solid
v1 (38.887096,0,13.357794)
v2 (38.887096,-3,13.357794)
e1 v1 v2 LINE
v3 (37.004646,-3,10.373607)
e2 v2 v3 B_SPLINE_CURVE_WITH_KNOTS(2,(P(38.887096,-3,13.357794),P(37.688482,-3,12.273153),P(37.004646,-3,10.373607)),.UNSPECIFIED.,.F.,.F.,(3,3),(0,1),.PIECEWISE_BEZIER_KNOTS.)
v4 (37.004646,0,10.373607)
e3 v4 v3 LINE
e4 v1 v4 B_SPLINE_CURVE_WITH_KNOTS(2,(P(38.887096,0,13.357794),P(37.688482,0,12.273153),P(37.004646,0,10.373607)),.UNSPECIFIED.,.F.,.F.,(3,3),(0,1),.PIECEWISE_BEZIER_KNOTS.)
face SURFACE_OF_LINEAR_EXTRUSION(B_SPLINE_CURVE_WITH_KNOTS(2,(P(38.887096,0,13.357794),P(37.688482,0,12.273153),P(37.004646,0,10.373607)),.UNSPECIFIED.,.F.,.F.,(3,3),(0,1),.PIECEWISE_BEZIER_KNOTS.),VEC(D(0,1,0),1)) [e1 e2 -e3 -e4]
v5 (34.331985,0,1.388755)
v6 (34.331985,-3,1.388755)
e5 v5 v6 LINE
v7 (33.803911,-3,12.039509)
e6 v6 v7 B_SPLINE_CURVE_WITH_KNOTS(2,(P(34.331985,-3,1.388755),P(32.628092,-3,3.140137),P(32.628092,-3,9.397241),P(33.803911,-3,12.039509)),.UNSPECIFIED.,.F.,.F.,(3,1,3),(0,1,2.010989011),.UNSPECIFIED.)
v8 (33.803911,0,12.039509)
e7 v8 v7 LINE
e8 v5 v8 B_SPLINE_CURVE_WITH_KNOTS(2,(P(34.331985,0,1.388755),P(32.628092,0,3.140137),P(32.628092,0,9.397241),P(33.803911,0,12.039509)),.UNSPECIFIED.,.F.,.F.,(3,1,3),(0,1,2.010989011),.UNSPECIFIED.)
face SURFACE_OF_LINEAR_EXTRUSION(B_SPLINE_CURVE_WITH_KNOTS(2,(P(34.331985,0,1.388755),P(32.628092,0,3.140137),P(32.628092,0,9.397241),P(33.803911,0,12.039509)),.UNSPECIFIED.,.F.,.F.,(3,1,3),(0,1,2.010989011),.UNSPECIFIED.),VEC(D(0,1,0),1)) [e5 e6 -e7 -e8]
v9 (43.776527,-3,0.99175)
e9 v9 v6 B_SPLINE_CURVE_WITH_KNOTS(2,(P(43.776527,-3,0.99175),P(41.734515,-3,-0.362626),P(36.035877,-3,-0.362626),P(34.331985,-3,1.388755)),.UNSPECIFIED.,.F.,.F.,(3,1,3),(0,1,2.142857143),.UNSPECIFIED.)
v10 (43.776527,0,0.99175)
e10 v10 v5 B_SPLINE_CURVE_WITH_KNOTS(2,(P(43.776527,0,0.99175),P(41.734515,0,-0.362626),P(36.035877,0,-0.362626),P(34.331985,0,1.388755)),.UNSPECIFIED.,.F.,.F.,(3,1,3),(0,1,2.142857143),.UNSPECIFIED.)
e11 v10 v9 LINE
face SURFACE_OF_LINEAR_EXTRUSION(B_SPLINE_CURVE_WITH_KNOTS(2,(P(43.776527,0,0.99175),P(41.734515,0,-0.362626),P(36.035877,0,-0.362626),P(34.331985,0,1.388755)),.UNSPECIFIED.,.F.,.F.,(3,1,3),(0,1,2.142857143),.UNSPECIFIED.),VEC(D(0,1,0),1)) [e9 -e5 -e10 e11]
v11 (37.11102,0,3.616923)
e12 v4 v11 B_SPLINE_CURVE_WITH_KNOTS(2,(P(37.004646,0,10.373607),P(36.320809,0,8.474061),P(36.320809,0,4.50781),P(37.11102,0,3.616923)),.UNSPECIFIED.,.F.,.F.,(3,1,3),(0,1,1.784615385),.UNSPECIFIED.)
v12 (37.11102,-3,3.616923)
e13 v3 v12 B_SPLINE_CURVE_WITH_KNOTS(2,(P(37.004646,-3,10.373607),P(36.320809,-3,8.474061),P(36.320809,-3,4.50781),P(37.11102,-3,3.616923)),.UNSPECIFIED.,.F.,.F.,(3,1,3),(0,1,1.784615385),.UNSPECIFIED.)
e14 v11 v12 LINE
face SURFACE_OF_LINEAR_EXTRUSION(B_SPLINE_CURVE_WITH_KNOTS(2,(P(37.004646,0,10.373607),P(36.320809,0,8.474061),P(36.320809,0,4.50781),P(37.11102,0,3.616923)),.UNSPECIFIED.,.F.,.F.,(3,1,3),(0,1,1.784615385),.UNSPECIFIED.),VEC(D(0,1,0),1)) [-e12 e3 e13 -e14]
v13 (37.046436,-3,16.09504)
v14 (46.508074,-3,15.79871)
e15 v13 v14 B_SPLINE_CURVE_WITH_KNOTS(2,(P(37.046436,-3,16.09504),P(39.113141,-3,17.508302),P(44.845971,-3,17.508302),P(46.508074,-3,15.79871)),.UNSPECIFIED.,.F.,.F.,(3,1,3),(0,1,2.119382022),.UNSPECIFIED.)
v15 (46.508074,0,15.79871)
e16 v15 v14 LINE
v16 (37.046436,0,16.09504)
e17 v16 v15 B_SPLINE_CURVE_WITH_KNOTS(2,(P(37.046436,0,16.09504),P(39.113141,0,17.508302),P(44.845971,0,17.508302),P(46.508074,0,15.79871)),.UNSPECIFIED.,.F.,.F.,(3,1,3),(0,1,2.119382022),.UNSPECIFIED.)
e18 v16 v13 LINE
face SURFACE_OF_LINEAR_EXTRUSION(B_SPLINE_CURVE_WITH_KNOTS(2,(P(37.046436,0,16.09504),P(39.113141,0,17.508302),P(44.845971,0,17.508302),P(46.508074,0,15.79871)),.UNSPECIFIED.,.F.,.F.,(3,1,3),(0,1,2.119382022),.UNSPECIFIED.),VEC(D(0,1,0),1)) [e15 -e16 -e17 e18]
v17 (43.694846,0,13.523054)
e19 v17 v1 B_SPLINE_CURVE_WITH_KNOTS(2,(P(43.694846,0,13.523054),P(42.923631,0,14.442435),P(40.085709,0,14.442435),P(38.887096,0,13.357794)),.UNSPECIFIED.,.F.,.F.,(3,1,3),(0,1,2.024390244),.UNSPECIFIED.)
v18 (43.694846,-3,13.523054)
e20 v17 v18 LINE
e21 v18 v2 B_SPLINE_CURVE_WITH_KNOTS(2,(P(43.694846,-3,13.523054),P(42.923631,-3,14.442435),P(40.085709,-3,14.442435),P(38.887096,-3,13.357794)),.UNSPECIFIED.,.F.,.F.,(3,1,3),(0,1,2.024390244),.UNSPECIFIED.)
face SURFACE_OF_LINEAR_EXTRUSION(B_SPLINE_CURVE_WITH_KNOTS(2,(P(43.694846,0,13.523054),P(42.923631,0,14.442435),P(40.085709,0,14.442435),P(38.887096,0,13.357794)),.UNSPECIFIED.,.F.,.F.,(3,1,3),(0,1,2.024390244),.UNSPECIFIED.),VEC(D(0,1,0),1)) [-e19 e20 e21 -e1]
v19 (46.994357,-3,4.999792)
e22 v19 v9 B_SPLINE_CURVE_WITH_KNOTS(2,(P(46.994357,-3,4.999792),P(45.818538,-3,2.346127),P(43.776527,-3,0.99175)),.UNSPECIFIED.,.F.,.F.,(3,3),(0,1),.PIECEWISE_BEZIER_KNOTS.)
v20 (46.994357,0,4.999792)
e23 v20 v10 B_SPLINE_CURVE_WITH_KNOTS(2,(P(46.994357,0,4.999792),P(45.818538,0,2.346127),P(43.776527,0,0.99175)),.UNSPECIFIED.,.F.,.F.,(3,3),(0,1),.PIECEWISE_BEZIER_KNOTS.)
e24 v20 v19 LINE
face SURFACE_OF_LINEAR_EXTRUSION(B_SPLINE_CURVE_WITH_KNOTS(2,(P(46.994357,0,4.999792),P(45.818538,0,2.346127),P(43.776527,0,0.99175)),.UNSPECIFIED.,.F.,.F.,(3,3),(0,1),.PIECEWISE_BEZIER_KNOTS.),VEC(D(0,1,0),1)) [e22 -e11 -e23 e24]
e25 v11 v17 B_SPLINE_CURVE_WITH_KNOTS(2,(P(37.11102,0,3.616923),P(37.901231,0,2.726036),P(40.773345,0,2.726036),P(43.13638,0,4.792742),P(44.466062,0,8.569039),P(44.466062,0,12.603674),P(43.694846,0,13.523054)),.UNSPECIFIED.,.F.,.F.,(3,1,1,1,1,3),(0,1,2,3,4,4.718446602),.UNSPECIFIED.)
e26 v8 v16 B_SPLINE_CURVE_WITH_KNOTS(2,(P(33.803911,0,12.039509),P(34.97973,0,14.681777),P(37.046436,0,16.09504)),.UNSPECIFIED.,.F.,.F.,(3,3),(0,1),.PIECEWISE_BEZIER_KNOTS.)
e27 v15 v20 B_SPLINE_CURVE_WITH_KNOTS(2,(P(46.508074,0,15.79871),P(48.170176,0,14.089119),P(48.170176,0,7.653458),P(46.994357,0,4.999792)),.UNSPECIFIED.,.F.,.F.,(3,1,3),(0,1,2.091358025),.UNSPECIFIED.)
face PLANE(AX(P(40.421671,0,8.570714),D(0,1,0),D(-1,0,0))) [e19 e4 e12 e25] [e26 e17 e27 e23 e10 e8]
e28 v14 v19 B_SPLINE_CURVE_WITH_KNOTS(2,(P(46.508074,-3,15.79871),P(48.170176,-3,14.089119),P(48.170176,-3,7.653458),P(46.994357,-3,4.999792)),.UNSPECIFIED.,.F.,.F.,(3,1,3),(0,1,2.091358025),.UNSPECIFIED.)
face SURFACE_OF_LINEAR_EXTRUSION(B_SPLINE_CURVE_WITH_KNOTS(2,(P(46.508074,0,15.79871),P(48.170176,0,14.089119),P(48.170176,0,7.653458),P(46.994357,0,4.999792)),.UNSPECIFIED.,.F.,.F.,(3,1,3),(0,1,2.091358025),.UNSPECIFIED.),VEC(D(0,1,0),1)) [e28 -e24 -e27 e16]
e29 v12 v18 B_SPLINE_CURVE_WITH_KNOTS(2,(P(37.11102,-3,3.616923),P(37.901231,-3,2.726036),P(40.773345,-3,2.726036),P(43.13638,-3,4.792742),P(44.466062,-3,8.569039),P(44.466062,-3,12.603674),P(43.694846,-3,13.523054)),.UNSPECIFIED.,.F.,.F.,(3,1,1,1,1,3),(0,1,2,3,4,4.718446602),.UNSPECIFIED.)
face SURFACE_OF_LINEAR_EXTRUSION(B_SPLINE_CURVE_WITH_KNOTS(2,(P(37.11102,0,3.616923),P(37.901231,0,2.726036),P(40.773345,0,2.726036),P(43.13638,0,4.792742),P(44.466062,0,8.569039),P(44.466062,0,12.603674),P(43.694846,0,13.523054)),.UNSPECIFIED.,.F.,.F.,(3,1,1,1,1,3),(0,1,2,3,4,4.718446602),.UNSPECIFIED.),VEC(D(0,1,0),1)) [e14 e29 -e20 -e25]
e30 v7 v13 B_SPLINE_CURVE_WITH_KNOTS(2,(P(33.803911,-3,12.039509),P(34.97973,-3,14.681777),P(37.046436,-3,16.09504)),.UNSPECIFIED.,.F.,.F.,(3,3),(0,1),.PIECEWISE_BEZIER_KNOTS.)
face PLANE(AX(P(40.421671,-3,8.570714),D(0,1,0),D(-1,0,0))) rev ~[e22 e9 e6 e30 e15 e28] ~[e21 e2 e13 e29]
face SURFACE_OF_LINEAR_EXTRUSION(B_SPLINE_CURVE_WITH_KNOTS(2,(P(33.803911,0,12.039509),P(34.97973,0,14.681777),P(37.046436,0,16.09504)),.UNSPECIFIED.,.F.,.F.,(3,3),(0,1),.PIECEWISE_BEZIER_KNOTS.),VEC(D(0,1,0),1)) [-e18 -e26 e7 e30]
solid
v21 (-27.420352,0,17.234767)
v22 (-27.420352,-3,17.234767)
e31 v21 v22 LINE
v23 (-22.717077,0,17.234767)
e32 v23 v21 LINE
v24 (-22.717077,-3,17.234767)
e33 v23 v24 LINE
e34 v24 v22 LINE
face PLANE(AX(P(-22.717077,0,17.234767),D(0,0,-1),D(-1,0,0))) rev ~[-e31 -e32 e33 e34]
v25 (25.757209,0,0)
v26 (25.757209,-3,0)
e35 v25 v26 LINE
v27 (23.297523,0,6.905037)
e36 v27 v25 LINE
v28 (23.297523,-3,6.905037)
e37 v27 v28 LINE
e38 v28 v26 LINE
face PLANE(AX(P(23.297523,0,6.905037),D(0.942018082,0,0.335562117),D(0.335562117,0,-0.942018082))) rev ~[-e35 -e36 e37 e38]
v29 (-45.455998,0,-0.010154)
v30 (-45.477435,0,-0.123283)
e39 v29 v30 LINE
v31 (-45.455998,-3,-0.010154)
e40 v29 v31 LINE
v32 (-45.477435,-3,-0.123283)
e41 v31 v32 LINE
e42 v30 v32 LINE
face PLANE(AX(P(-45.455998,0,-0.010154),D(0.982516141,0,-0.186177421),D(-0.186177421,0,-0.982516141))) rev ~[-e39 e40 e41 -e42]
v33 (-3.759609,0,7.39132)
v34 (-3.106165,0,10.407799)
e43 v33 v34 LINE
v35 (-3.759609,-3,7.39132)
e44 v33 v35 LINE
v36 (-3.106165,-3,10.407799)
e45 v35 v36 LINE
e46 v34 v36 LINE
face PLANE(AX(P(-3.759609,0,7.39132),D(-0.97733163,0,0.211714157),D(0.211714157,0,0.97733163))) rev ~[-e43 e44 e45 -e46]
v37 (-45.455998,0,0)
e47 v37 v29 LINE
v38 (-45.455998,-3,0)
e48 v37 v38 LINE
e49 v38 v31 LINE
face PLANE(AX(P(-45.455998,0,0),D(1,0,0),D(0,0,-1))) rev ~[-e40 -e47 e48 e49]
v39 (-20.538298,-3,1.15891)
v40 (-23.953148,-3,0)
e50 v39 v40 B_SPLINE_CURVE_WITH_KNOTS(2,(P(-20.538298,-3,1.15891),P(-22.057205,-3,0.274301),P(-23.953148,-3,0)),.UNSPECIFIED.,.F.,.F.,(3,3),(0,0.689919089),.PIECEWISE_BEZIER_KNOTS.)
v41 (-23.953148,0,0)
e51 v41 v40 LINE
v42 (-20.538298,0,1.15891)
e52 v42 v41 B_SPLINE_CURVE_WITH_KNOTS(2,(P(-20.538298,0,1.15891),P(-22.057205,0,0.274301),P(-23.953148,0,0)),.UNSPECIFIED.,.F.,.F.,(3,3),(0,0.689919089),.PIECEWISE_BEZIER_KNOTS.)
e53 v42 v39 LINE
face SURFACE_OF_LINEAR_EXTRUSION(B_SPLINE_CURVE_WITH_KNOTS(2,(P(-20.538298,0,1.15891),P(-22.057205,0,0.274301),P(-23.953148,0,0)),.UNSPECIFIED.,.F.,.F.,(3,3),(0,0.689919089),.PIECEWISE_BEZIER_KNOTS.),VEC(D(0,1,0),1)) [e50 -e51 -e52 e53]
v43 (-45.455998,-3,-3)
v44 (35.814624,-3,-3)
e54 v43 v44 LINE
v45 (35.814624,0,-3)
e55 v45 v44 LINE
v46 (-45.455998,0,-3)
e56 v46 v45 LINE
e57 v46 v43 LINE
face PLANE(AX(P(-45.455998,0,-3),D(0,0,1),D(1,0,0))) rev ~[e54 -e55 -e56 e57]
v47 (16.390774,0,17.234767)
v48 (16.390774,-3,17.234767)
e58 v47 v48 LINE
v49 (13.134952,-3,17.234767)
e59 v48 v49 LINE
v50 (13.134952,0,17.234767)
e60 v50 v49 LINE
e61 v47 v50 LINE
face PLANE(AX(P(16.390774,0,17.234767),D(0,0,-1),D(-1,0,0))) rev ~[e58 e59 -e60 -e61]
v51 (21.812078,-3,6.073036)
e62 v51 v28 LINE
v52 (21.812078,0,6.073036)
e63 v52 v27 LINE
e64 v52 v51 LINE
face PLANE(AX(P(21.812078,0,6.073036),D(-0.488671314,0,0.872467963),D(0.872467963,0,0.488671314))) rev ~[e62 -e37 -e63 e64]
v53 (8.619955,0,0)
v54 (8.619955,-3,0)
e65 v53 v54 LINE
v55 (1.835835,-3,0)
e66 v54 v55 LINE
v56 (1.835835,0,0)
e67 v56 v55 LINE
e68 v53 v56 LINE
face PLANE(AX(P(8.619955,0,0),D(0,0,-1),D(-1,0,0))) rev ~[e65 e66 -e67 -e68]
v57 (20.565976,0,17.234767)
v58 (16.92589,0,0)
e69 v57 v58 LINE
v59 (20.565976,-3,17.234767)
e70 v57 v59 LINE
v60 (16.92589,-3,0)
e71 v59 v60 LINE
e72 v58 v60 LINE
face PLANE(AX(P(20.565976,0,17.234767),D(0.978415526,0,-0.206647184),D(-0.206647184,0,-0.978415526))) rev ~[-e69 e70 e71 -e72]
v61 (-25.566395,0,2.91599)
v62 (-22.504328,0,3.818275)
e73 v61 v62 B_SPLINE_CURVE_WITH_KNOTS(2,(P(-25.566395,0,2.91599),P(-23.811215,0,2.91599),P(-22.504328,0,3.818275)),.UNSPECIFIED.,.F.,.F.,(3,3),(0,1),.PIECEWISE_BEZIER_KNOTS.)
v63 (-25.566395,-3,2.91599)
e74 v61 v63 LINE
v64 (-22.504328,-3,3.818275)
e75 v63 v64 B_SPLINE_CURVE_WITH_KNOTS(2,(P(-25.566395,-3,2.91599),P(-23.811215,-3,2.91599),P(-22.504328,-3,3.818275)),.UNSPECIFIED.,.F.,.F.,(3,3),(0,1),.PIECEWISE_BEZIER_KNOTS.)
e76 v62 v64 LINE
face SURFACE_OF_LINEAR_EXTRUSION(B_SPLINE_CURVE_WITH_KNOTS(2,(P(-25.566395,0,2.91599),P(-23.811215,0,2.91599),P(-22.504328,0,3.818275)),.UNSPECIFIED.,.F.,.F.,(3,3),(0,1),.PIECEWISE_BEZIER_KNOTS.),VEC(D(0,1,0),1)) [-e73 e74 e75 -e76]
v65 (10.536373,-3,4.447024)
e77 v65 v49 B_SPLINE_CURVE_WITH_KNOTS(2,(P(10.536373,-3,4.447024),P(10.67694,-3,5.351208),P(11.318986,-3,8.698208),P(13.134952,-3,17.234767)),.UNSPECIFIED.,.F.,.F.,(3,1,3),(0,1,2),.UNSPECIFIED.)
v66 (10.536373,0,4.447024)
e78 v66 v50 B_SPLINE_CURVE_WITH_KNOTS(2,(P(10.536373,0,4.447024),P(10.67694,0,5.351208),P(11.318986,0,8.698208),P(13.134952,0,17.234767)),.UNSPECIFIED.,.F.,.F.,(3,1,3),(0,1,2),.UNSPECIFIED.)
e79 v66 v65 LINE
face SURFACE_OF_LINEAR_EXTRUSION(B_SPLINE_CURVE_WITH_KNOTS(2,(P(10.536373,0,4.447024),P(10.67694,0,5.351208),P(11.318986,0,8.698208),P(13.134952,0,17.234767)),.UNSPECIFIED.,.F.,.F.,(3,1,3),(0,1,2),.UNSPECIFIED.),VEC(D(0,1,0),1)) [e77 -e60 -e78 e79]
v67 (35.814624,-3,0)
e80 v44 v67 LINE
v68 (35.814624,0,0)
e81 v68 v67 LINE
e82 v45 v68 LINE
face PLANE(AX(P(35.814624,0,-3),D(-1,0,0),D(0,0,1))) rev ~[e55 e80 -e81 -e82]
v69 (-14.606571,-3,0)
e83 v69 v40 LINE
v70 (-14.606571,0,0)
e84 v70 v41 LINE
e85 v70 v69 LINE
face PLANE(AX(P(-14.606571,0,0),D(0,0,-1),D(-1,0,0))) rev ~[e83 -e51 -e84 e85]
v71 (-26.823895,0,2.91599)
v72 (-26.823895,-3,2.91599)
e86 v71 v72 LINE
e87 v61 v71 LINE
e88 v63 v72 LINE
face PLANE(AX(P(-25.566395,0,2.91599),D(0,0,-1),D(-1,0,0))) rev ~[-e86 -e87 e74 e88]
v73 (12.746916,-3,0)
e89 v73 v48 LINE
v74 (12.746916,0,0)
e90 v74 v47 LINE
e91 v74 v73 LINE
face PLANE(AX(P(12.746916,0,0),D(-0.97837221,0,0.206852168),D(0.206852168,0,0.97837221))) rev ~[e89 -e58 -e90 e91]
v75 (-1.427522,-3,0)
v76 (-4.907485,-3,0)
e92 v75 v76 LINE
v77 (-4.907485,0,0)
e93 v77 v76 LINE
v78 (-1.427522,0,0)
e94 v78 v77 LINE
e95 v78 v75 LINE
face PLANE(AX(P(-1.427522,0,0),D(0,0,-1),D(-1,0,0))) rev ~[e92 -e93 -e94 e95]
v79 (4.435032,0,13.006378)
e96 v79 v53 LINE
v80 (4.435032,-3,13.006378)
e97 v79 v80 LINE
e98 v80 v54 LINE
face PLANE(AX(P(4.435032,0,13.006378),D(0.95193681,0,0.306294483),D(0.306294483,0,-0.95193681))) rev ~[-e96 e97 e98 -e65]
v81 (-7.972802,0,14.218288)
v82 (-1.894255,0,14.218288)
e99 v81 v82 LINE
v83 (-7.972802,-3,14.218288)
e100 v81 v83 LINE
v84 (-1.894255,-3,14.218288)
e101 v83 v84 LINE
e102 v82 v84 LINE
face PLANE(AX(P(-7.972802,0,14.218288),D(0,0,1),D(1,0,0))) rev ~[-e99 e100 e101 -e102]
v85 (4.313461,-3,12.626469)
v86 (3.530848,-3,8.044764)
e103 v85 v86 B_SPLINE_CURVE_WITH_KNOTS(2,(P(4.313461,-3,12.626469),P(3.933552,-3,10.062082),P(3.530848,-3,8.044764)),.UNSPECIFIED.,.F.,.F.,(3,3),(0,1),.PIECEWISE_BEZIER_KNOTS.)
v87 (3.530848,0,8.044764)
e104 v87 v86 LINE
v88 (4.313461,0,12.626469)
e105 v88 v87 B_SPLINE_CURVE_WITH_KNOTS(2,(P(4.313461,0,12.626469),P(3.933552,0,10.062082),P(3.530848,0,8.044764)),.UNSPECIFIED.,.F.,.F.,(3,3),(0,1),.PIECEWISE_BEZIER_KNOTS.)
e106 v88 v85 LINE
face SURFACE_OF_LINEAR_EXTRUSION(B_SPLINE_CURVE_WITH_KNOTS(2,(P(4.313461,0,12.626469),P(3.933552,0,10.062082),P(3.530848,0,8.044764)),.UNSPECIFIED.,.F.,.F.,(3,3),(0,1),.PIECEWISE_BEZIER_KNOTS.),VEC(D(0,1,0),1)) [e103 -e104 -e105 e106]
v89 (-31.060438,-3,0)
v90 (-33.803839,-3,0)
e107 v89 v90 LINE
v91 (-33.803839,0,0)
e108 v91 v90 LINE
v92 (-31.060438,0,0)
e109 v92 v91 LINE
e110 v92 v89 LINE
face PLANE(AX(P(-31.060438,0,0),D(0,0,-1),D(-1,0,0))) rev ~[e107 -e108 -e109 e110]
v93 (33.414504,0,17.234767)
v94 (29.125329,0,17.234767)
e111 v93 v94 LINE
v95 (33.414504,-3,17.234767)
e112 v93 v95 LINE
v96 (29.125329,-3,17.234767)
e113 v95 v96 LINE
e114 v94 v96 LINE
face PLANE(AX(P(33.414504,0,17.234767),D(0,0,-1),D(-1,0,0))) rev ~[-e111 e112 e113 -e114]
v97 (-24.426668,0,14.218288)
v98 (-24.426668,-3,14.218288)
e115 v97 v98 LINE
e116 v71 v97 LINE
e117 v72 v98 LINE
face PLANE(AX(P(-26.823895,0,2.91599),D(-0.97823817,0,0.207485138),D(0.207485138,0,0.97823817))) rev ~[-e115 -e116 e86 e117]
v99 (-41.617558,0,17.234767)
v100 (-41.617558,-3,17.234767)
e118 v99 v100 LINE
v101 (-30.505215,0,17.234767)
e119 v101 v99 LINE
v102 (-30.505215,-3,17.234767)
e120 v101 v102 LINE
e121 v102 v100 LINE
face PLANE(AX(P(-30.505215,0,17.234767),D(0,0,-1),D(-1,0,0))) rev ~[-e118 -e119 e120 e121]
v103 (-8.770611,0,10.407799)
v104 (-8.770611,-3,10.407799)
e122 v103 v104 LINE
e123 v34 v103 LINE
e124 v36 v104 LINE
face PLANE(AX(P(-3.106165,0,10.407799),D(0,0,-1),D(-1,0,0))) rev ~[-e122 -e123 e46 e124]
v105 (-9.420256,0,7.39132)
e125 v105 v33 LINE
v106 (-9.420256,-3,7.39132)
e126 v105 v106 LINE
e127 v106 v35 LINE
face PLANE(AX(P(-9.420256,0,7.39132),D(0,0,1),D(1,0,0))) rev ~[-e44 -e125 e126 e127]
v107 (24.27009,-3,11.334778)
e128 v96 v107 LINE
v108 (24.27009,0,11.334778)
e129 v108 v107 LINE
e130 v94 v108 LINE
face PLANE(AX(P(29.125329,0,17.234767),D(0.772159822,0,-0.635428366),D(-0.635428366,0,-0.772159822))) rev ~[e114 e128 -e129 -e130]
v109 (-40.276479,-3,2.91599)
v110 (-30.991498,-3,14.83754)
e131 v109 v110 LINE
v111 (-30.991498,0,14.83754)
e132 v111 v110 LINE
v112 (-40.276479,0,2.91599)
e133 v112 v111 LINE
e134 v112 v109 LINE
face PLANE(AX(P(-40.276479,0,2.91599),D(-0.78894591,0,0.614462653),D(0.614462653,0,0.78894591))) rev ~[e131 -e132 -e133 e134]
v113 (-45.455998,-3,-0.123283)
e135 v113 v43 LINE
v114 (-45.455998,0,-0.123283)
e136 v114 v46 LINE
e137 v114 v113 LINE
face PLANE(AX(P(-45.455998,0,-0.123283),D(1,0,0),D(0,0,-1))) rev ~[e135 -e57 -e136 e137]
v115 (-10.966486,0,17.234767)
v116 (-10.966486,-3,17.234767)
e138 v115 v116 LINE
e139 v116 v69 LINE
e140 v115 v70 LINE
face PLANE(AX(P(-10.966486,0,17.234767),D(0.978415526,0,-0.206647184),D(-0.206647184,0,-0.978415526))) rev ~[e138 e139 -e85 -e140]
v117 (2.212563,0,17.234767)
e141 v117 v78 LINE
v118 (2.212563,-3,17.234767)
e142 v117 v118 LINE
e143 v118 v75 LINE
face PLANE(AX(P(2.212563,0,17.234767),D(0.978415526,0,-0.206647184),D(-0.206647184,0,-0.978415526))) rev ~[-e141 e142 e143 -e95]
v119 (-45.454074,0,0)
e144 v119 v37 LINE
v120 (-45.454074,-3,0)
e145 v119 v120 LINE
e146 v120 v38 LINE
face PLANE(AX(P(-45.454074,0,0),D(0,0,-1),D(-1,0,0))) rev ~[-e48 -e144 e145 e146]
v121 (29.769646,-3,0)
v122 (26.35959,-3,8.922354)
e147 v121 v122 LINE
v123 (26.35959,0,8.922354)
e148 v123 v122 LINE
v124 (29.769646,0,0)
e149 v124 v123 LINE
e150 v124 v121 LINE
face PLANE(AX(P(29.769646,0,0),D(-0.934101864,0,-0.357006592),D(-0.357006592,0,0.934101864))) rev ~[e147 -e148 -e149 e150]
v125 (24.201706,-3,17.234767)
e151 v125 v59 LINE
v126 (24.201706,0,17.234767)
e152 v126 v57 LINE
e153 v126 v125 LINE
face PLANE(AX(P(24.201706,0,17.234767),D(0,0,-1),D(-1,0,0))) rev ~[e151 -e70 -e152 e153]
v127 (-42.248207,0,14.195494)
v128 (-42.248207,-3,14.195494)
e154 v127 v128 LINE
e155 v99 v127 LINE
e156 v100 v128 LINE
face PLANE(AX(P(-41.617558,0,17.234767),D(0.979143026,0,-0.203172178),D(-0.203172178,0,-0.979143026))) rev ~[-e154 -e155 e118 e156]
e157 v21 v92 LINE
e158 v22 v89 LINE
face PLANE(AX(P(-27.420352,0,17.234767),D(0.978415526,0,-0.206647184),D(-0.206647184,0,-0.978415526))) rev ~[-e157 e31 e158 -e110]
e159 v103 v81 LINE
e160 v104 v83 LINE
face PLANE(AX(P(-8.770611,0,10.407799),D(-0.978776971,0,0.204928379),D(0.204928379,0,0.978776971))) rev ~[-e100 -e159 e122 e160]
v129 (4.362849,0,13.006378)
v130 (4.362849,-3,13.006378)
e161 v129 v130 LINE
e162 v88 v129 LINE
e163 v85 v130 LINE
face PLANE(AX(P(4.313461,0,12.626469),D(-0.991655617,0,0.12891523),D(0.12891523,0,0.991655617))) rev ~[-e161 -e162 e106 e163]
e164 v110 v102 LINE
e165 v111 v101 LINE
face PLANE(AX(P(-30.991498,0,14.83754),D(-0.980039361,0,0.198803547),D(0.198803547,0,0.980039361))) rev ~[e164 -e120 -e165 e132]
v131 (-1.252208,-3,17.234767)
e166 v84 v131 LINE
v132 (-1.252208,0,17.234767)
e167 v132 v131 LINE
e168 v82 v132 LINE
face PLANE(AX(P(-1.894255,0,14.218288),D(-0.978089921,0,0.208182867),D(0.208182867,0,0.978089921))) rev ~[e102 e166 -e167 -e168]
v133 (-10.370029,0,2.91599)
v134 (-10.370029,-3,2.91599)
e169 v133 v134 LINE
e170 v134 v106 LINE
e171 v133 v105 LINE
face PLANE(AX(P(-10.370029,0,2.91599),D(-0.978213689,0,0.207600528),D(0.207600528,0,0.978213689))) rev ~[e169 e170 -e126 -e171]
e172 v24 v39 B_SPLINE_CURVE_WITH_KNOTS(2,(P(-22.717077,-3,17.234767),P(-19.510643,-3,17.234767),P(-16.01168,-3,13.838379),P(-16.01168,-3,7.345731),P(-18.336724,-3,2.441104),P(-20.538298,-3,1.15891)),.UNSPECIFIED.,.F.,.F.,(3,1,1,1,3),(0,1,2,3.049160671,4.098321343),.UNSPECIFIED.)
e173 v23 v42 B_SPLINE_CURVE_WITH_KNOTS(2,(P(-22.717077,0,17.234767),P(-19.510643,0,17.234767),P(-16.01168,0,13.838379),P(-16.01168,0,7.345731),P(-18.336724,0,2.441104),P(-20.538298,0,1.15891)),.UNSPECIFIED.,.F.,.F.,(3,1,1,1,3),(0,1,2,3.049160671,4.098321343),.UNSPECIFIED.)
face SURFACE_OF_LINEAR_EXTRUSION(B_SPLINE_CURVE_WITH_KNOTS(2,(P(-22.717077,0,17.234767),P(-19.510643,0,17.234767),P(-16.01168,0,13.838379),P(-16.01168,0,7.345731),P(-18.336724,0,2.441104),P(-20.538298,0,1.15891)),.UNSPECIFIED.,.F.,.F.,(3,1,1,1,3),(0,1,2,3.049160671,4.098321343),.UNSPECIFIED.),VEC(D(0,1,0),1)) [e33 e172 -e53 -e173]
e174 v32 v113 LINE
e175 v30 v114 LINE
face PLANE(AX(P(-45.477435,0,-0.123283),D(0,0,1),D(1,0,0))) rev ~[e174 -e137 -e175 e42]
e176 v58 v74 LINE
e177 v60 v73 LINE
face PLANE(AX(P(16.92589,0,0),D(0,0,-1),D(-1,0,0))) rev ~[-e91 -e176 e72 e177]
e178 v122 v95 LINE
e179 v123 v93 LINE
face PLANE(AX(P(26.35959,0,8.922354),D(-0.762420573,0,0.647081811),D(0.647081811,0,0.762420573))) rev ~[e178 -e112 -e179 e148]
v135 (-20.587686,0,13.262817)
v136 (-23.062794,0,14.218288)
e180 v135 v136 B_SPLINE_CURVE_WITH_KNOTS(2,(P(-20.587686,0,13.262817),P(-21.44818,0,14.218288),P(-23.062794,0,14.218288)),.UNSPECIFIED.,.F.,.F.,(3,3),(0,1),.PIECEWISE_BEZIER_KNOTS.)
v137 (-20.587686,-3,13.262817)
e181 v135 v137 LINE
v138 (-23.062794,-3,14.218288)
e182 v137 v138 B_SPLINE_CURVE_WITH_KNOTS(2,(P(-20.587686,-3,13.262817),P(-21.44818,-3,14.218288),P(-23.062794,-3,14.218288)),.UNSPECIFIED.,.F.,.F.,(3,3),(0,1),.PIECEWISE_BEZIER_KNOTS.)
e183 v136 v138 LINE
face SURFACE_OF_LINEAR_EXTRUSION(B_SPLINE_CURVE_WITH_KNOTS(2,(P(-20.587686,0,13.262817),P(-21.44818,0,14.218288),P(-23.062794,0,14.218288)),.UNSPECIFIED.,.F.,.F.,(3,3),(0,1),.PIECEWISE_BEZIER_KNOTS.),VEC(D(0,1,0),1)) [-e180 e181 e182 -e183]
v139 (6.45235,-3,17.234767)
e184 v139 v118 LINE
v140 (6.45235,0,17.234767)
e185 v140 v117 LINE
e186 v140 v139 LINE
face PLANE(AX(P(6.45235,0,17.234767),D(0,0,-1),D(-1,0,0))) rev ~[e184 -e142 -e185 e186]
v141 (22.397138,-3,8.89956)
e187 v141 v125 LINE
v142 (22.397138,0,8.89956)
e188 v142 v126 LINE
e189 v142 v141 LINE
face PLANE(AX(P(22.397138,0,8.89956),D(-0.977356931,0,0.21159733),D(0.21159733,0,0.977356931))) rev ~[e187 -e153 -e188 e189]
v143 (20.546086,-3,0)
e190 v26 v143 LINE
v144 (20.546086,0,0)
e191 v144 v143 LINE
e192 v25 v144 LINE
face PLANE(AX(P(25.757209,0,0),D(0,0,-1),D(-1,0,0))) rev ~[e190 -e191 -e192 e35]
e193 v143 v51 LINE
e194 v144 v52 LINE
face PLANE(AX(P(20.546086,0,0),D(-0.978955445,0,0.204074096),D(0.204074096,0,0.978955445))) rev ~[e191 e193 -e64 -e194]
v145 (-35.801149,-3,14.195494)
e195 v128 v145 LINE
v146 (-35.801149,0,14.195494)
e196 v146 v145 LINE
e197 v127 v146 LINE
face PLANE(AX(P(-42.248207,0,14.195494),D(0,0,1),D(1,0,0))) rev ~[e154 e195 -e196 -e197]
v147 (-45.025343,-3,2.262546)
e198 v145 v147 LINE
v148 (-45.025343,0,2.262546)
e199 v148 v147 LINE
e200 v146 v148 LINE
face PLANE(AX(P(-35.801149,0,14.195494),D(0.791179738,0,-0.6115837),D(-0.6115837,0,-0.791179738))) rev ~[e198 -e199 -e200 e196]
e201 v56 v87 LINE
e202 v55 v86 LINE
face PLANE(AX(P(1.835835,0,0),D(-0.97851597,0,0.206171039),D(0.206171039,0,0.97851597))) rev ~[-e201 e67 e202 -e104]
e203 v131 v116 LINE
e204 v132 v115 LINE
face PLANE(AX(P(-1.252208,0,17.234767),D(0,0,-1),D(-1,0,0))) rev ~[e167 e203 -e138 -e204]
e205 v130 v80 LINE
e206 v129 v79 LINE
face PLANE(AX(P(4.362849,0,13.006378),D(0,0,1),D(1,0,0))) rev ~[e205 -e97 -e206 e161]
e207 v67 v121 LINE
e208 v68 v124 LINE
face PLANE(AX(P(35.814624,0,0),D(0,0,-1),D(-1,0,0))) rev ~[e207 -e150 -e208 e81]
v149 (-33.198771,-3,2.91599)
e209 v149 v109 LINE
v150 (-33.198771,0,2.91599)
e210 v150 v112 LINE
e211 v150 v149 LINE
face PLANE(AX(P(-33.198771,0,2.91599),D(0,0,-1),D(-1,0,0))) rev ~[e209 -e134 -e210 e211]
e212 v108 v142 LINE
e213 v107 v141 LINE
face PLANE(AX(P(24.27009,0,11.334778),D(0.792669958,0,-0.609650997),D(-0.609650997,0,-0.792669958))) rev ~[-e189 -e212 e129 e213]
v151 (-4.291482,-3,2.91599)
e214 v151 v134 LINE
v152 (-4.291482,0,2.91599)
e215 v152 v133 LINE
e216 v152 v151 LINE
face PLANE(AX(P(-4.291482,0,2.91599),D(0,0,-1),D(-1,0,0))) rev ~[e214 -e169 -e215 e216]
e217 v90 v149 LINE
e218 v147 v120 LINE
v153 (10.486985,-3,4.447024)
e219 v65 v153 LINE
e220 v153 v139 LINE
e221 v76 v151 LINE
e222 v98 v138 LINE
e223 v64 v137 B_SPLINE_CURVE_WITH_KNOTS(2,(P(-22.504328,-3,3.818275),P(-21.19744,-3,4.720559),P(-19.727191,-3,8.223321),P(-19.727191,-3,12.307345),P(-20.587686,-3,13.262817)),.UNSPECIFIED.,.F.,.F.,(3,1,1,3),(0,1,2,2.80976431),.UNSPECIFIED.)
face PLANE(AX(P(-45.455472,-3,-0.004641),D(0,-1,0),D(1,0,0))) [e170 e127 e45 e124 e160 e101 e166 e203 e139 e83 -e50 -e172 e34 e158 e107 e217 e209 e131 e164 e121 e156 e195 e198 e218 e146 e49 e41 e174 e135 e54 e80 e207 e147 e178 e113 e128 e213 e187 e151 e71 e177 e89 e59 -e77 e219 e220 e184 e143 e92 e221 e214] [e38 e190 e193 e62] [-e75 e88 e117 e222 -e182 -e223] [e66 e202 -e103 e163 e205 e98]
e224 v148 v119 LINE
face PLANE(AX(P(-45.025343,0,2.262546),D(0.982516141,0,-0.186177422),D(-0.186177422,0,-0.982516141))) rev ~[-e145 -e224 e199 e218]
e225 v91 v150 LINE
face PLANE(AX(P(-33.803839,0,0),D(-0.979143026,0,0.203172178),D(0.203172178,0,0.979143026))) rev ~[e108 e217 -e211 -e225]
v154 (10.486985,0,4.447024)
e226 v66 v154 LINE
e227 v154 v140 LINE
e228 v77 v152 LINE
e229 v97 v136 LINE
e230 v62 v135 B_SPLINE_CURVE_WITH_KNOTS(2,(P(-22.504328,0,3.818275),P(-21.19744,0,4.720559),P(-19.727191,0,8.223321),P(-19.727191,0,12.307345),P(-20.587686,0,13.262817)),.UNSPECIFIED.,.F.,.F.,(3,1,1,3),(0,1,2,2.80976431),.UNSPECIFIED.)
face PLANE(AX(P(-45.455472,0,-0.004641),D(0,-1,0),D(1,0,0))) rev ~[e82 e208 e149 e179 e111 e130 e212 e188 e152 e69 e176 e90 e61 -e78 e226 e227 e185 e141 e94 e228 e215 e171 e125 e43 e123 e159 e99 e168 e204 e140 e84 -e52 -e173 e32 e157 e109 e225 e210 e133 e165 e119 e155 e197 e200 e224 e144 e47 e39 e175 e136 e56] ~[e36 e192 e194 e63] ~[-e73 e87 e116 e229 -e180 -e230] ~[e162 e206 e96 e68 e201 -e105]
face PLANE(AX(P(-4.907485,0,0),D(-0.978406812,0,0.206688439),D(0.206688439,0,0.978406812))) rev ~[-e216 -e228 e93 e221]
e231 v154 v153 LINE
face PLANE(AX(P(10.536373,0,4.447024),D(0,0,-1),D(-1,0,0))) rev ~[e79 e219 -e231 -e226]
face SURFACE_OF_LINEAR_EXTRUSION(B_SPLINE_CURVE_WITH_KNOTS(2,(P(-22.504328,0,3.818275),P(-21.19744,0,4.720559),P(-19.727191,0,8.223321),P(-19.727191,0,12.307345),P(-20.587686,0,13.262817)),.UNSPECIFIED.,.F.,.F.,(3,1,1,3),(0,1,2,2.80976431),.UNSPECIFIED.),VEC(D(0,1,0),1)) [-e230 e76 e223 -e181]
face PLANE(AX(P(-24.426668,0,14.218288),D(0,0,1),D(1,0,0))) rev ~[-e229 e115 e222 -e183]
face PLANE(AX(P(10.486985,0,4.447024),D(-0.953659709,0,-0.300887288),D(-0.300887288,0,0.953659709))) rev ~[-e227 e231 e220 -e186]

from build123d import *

# Parameters (mm, degrees)
F1_DEPTH = 3


with BuildPart() as f1:
    # F0 (on Front) → F1 (new body)
    with BuildSketch(Plane.XZ):
        Polygon((-45.4540743535, 0), (-45.4559984316, 0), (-45.4559984316, -0.0101539581), align=None)
        Polygon((-45.0253434094, 2.2625464951), (-45.4540743535, 0), (-33.8038387864, 0), (-33.1987708043, 2.9159902754), (-40.2764787269, 2.9159902754), (-30.9914984999, 14.8375401741), (-30.5052147564, 17.2347670658), (-41.6175581133, 17.2347670658), (-42.2482073431, 14.1954936691), (-35.8011486502, 14.1954936691), align=None)
        Polygon((-33.8038387864, 0), (-45.4540743535, 0), (-45.4559984316, -0.0101539581), (-45.4559984316, -0.1232831214), (-33.8294200341, -0.1232831214), align=None)
        Polygon((-45.4559984316, -0.1232831214), (-45.4559984316, -0.0101539581), (-45.4774353271, -0.1232831214), align=None)
        with BuildLine():
            Line((-31.0604376644, 0), (-33.8038387864, 0))
            Line((-33.8038387864, 0), (-33.8294200341, -0.1232831214))
            Line((-33.8294200341, -0.1232831214), (-45.4559984316, -0.1232831214))
            Line((-45.4559984316, -0.1232831214), (-45.4559984316, -3))
            Line((-45.4559984316, -3), (35.8146238138, -3))
            Line((35.8146238138, -3), (35.8146238138, 0))
            Line((35.8146238138, 0), (29.769646119, 0))
            Line((29.769646119, 0), (29.8167639856, -0.1232831214))
            Line((29.8167639856, -0.1232831214), (25.8011240102, -0.1232831214))
            Line((25.8011240102, -0.1232831214), (25.7572085631, 0))
            Line((25.7572085631, 0), (20.5460862143, 0))
            Line((20.5460862143, 0), (20.5203864833, -0.1232831214))
            Line((20.5203864833, -0.1232831214), (16.8998520494, -0.1232831214))
            Line((16.8998520494, -0.1232831214), (16.9258901786, 0))
            Line((16.9258901786, 0), (12.7469162406, 0))
            Line((12.7469162406, 0), (12.7208511289, -0.1232831214))
            Line((12.7208511289, -0.1232831214), (8.6596220525, -0.1232831214))
            Line((8.6596220525, -0.1232831214), (8.6199545667, 0))
            Line((8.6199545667, 0), (1.8358351015, 0))
            Line((1.8358351015, 0), (1.8098596346, -0.1232831214))
            Line((1.8098596346, -0.1232831214), (-1.4535601752, -0.1232831214))
            Line((-1.4535601752, -0.1232831214), (-1.4275220461, 0))
            Line((-1.4275220461, 0), (-4.9074846551, 0))
            Line((-4.9074846551, 0), (-4.9335282145, -0.1232831214))
            Line((-4.9335282145, -0.1232831214), (-14.6326094419, -0.1232831214))
            Line((-14.6326094419, -0.1232831214), (-14.6065713127, 0))
            Line((-14.6065713127, 0), (-23.9531483885, 0))
            add(Edge.make_bspline(
                [(-23.9531483885, 0), (-24.8052711696, -0.1232831214), (-25.7335555235, -0.1232831214)],
                knots=[0.6899190889, 0.6899190889, 0.6899190889, 1, 1, 1], degree=2))
            Line((-25.7335555235, -0.1232831214), (-31.0864757935, -0.1232831214))
            Line((-31.0864757935, -0.1232831214), (-31.0604376644, 0))
        make_face()
        with BuildLine():
            Line((-27.4203522587, 17.2347670658), (-31.0604376644, 0))
            Line((-31.0604376644, 0), (-23.9531483885, 0))
            add(Edge.make_bspline(
                [(-20.5382975609, 1.1589103429), (-22.0572052593, 0.2743005962), (-23.9531483885, 0)],
                knots=[0, 0, 0, 0.6899190889, 0.6899190889, 0.6899190889], degree=2))
            add(Edge.make_bspline(
                [(-17.1742018199, 4.8934175292), (-18.3367238942, 2.4411038072), (-20.5382975609, 1.1589103429)],
                knots=[0, 0, 0, 1, 1, 1], degree=2))
            add(Edge.make_bspline(
                [(-16.0116797456, 10.6699365289), (-16.0116797456, 7.3457312512), (-17.1742018199, 4.8934175292)],
                knots=[0, 0, 0, 1, 1, 1], degree=2))
            add(Edge.make_bspline(
                [(-17.7611614946, 15.5365730554), (-16.0116797456, 13.838379045), (-16.0116797456, 10.6699365289)],
                knots=[0, 0, 0, 1, 1, 1], degree=2))
            add(Edge.make_bspline(
                [(-22.7170766772, 17.2347670658), (-19.5106432436, 17.2347670658), (-17.7611614946, 15.5365730554)],
                knots=[0, 0, 0, 1, 1, 1], degree=2))
            Line((-22.7170766772, 17.2347670658), (-27.4203522587, 17.2347670658))
        make_face()
        with BuildLine():
            add(Edge.make_bspline(
                [(-25.5663954867, 2.9159902754), (-23.8112151, 2.9159902754), (-22.5043275394, 3.8182745651)],
                knots=[0, 0, 0, 1, 1, 1], degree=2))
            Line((-25.5663954867, 2.9159902754), (-26.8238948546, 2.9159902754))
            Line((-26.8238948546, 2.9159902754), (-24.4266679629, 14.2182882196))
            Line((-24.4266679629, 14.2182882196), (-23.0627940261, 14.2182882196))
            add(Edge.make_bspline(
                [(-20.5876857536, 13.2628166455), (-21.4481800341, 14.2182882196), (-23.0627940261, 14.2182882196)],
                knots=[0, 0, 0, 1, 1, 1], degree=2))
            add(Edge.make_bspline(
                [(-19.7271914732, 10.4799819416), (-19.7271914732, 12.3073450714), (-20.5876857536, 13.2628166455)],
                knots=[0, 0, 0, 1, 1, 1], degree=2))
            add(Edge.make_bspline(
                [(-20.462315726, 6.4719401496), (-19.7271914732, 8.2233214445), (-19.7271914732, 10.4799819416)],
                knots=[0, 0, 0, 1, 1, 1], degree=2))
            add(Edge.make_bspline(
                [(-22.5043275394, 3.8182745651), (-21.1974399788, 4.7205588547), (-20.462315726, 6.4719401496)],
                knots=[0, 0, 0, 1, 1, 1], degree=2))
        make_face(mode=Mode.SUBTRACT)
        with BuildLine():
            Line((-23.9531483885, 0), (-31.0604376644, 0))
            Line((-31.0604376644, 0), (-31.0864757935, -0.1232831214))
            Line((-31.0864757935, -0.1232831214), (-25.7335555235, -0.1232831214))
            add(Edge.make_bspline(
                [(-23.9531483885, 0), (-24.8052711696, -0.1232831214), (-25.7335555235, -0.1232831214)],
                knots=[0.6899190889, 0.6899190889, 0.6899190889, 1, 1, 1], degree=2))
        make_face()
        Polygon((-10.966485907, 17.2347670658), (-14.6065713127, 0), (-4.9074846551, 0), (-4.2914817094, 2.9159902754), (-10.3700285029, 2.9159902754), (-9.4202555664, 7.3913203521), (-3.759608865, 7.3913203521), (-3.1061650847, 10.4077991984), (-8.7706108779, 10.4077991984), (-7.9728016112, 14.2182882196), (-1.8942548177, 14.2182882196), (-1.2522083127, 17.2347670658), align=None)
        Polygon((-4.9074846551, 0), (-14.6065713127, 0), (-14.6326094419, -0.1232831214), (-4.9335282145, -0.1232831214), align=None)
        Polygon((29.8167639856, -0.1232831214), (29.769646119, 0), (25.7572085631, 0), (25.8011240102, -0.1232831214), align=None)
        Polygon((25.7572085631, 0), (29.769646119, 0), (26.3595904968, 8.9223543257), (33.414503869, 17.2347670658), (29.1253292878, 17.2347670658), (24.2700900365, 11.3347775844), (22.3971378058, 8.8995597752), (24.2017063851, 17.2347670658), (20.5659755843, 17.2347670658), (16.9258901786, 0), (20.5460862143, 0), (21.8120776769, 6.0730355163), (23.2975225496, 6.9050366086), align=None)
        with BuildLine():
            Line((2.2125633596, 17.2347670658), (-1.4275220461, 0))
            Line((-1.4275220461, 0), (1.8358351015, 0))
            Line((1.8358351015, 0), (3.5308481955, 8.0447641324))
            add(Edge.make_bspline(
                [(4.3134610951, 12.626468778), (3.9335519205, 10.0620818495), (3.5308481955, 8.0447641324)],
                knots=[0, 0, 0, 1, 1, 1], degree=2))
            Line((4.3134610951, 12.626468778), (4.3628492878, 13.0063779526))
            Line((4.3628492878, 13.0063779526), (4.435032031, 13.0063779526))
            Line((4.435032031, 13.0063779526), (8.6199545667, 0))
            Line((8.6199545667, 0), (12.7469162406, 0))
            Line((12.7469162406, 0), (16.3907737555, 17.2347670658))
            Line((16.3907737555, 17.2347670658), (13.1349521292, 17.2347670658))
            add(Edge.make_bspline(
                [(10.9979630221, 7.0247079986), (11.3189862746, 8.6982079127), (13.1349521292, 17.2347670658)],
                knots=[0, 0, 0, 1, 1, 1], degree=2))
            add(Edge.make_bspline(
                [(10.536373375, 4.447024249), (10.6769397696, 5.3512080845), (10.9979630221, 7.0247079986)],
                knots=[0, 0, 0, 1, 1, 1], degree=2))
            Line((10.536373375, 4.447024249), (10.4869851823, 4.447024249))
            Line((10.4869851823, 4.447024249), (6.4523497481, 17.2347670658))
            Line((6.4523497481, 17.2347670658), (2.2125633596, 17.2347670658))
        make_face()
        Polygon((1.8358351015, 0), (-1.4275220461, 0), (-1.4535601752, -0.1232831214), (1.8098596346, -0.1232831214), align=None)
        Polygon((20.5203864833, -0.1232831214), (20.5460862143, 0), (16.9258901786, 0), (16.8998520494, -0.1232831214), align=None)
        Polygon((12.7469162406, 0), (8.6199545667, 0), (8.6596220525, -0.1232831214), (12.7208511289, -0.1232831214), align=None)
        with BuildLine():
            add(Edge.make_bspline(
                [(48.1701762102, 11.011854786), (48.1701762102, 7.6534576826), (46.9943573149, 4.999792098)],
                knots=[0, 0, 0, 1, 1, 1], degree=2))
            add(Edge.make_bspline(
                [(46.5080735714, 15.7987103859), (48.1701762102, 14.0891191002), (48.1701762102, 11.011854786)],
                knots=[0, 0, 0, 1, 1, 1], degree=2))
            add(Edge.make_bspline(
                [(41.818094811, 17.5083016715), (44.8459709325, 17.5083016715), (46.5080735714, 15.7987103859)],
                knots=[0, 0, 0, 1, 1, 1], degree=2))
            add(Edge.make_bspline(
                [(37.0464355781, 16.0950395421), (39.1131414879, 17.5083016715), (41.818094811, 17.5083016715)],
                knots=[0, 0, 0, 1, 1, 1], degree=2))
            add(Edge.make_bspline(
                [(33.803910773, 12.0395091033), (34.9797296683, 14.6817774126), (37.0464355781, 16.0950395421)],
                knots=[0, 0, 0, 1, 1, 1], degree=2))
            add(Edge.make_bspline(
                [(32.6280918776, 6.2515928283), (32.6280918776, 9.397240794), (33.803910773, 12.0395091033)],
                knots=[0, 0, 0, 1, 1, 1], degree=2))
            add(Edge.make_bspline(
                [(34.3319845257, 1.3887553935), (32.6280918776, 3.1401366884), (32.6280918776, 6.2515928283)],
                knots=[0, 0, 0, 1, 1, 1], degree=2))
            add(Edge.make_bspline(
                [(39.0751505705, -0.3626259014), (36.0358771737, -0.3626259014), (34.3319845257, 1.3887553935)],
                knots=[0, 0, 0, 1, 1, 1], degree=2))
            add(Edge.make_bspline(
                [(43.7765266061, 0.9917503061), (41.7345147926, -0.3626259014), (39.0751505705, -0.3626259014)],
                knots=[0, 0, 0, 1, 1, 1], degree=2))
            add(Edge.make_bspline(
                [(46.9943573149, 4.999792098), (45.8185384195, 2.3461265135), (43.7765266061, 0.9917503061)],
                knots=[0, 0, 0, 1, 1, 1], degree=2))
        make_face()
        with BuildLine():
            add(Edge.make_bspline(
                [(41.5217656548, 14.4424346326), (40.0857089749, 14.4424346326), (38.887095529, 13.3577939391)],
                knots=[0, 0, 0, 1, 1, 1], degree=2))
            add(Edge.make_bspline(
                [(43.6948461335, 13.5230544301), (42.9236305091, 14.4424346326), (41.5217656548, 14.4424346326)],
                knots=[0, 0, 0, 1, 1, 1], degree=2))
            add(Edge.make_bspline(
                [(44.4660617579, 10.9168774923), (44.4660617579, 12.6036742275), (43.6948461335, 13.5230544301)],
                knots=[0, 0, 0, 1, 1, 1], degree=2))
            add(Edge.make_bspline(
                [(43.8012207024, 6.6808901956), (44.4660617579, 8.5690387933), (44.4660617579, 10.9168774923)],
                knots=[0, 0, 0, 1, 1, 1], degree=2))
            add(Edge.make_bspline(
                [(41.9548621139, 3.759388643), (43.1363796469, 4.7927415979), (43.8012207024, 6.6808901956)],
                knots=[0, 0, 0, 1, 1, 1], degree=2))
            add(Edge.make_bspline(
                [(39.3372879009, 2.7260356881), (40.7733445809, 2.7260356881), (41.9548621139, 3.759388643)],
                knots=[0, 0, 0, 1, 1, 1], degree=2))
            add(Edge.make_bspline(
                [(37.1110201378, 3.6169227025), (37.901231221, 2.7260356881), (39.3372879009, 2.7260356881)],
                knots=[0, 0, 0, 1, 1, 1], degree=2))
            add(Edge.make_bspline(
                [(36.3208090547, 6.2515928283), (36.3208090547, 4.5078097169), (37.1110201378, 3.6169227025)],
                knots=[0, 0, 0, 1, 1, 1], degree=2))
            add(Edge.make_bspline(
                [(37.0046455689, 10.3736073727), (36.3208090547, 8.4740614997), (36.3208090547, 6.2515928283)],
                knots=[0, 0, 0, 1, 1, 1], degree=2))
            add(Edge.make_bspline(
                [(38.887095529, 13.3577939391), (37.6884820832, 12.2731532456), (37.0046455689, 10.3736073727)],
                knots=[0, 0, 0, 1, 1, 1], degree=2))
        make_face(mode=Mode.SUBTRACT)
    extrude(amount=F1_DEPTH)


solid = f1.part
